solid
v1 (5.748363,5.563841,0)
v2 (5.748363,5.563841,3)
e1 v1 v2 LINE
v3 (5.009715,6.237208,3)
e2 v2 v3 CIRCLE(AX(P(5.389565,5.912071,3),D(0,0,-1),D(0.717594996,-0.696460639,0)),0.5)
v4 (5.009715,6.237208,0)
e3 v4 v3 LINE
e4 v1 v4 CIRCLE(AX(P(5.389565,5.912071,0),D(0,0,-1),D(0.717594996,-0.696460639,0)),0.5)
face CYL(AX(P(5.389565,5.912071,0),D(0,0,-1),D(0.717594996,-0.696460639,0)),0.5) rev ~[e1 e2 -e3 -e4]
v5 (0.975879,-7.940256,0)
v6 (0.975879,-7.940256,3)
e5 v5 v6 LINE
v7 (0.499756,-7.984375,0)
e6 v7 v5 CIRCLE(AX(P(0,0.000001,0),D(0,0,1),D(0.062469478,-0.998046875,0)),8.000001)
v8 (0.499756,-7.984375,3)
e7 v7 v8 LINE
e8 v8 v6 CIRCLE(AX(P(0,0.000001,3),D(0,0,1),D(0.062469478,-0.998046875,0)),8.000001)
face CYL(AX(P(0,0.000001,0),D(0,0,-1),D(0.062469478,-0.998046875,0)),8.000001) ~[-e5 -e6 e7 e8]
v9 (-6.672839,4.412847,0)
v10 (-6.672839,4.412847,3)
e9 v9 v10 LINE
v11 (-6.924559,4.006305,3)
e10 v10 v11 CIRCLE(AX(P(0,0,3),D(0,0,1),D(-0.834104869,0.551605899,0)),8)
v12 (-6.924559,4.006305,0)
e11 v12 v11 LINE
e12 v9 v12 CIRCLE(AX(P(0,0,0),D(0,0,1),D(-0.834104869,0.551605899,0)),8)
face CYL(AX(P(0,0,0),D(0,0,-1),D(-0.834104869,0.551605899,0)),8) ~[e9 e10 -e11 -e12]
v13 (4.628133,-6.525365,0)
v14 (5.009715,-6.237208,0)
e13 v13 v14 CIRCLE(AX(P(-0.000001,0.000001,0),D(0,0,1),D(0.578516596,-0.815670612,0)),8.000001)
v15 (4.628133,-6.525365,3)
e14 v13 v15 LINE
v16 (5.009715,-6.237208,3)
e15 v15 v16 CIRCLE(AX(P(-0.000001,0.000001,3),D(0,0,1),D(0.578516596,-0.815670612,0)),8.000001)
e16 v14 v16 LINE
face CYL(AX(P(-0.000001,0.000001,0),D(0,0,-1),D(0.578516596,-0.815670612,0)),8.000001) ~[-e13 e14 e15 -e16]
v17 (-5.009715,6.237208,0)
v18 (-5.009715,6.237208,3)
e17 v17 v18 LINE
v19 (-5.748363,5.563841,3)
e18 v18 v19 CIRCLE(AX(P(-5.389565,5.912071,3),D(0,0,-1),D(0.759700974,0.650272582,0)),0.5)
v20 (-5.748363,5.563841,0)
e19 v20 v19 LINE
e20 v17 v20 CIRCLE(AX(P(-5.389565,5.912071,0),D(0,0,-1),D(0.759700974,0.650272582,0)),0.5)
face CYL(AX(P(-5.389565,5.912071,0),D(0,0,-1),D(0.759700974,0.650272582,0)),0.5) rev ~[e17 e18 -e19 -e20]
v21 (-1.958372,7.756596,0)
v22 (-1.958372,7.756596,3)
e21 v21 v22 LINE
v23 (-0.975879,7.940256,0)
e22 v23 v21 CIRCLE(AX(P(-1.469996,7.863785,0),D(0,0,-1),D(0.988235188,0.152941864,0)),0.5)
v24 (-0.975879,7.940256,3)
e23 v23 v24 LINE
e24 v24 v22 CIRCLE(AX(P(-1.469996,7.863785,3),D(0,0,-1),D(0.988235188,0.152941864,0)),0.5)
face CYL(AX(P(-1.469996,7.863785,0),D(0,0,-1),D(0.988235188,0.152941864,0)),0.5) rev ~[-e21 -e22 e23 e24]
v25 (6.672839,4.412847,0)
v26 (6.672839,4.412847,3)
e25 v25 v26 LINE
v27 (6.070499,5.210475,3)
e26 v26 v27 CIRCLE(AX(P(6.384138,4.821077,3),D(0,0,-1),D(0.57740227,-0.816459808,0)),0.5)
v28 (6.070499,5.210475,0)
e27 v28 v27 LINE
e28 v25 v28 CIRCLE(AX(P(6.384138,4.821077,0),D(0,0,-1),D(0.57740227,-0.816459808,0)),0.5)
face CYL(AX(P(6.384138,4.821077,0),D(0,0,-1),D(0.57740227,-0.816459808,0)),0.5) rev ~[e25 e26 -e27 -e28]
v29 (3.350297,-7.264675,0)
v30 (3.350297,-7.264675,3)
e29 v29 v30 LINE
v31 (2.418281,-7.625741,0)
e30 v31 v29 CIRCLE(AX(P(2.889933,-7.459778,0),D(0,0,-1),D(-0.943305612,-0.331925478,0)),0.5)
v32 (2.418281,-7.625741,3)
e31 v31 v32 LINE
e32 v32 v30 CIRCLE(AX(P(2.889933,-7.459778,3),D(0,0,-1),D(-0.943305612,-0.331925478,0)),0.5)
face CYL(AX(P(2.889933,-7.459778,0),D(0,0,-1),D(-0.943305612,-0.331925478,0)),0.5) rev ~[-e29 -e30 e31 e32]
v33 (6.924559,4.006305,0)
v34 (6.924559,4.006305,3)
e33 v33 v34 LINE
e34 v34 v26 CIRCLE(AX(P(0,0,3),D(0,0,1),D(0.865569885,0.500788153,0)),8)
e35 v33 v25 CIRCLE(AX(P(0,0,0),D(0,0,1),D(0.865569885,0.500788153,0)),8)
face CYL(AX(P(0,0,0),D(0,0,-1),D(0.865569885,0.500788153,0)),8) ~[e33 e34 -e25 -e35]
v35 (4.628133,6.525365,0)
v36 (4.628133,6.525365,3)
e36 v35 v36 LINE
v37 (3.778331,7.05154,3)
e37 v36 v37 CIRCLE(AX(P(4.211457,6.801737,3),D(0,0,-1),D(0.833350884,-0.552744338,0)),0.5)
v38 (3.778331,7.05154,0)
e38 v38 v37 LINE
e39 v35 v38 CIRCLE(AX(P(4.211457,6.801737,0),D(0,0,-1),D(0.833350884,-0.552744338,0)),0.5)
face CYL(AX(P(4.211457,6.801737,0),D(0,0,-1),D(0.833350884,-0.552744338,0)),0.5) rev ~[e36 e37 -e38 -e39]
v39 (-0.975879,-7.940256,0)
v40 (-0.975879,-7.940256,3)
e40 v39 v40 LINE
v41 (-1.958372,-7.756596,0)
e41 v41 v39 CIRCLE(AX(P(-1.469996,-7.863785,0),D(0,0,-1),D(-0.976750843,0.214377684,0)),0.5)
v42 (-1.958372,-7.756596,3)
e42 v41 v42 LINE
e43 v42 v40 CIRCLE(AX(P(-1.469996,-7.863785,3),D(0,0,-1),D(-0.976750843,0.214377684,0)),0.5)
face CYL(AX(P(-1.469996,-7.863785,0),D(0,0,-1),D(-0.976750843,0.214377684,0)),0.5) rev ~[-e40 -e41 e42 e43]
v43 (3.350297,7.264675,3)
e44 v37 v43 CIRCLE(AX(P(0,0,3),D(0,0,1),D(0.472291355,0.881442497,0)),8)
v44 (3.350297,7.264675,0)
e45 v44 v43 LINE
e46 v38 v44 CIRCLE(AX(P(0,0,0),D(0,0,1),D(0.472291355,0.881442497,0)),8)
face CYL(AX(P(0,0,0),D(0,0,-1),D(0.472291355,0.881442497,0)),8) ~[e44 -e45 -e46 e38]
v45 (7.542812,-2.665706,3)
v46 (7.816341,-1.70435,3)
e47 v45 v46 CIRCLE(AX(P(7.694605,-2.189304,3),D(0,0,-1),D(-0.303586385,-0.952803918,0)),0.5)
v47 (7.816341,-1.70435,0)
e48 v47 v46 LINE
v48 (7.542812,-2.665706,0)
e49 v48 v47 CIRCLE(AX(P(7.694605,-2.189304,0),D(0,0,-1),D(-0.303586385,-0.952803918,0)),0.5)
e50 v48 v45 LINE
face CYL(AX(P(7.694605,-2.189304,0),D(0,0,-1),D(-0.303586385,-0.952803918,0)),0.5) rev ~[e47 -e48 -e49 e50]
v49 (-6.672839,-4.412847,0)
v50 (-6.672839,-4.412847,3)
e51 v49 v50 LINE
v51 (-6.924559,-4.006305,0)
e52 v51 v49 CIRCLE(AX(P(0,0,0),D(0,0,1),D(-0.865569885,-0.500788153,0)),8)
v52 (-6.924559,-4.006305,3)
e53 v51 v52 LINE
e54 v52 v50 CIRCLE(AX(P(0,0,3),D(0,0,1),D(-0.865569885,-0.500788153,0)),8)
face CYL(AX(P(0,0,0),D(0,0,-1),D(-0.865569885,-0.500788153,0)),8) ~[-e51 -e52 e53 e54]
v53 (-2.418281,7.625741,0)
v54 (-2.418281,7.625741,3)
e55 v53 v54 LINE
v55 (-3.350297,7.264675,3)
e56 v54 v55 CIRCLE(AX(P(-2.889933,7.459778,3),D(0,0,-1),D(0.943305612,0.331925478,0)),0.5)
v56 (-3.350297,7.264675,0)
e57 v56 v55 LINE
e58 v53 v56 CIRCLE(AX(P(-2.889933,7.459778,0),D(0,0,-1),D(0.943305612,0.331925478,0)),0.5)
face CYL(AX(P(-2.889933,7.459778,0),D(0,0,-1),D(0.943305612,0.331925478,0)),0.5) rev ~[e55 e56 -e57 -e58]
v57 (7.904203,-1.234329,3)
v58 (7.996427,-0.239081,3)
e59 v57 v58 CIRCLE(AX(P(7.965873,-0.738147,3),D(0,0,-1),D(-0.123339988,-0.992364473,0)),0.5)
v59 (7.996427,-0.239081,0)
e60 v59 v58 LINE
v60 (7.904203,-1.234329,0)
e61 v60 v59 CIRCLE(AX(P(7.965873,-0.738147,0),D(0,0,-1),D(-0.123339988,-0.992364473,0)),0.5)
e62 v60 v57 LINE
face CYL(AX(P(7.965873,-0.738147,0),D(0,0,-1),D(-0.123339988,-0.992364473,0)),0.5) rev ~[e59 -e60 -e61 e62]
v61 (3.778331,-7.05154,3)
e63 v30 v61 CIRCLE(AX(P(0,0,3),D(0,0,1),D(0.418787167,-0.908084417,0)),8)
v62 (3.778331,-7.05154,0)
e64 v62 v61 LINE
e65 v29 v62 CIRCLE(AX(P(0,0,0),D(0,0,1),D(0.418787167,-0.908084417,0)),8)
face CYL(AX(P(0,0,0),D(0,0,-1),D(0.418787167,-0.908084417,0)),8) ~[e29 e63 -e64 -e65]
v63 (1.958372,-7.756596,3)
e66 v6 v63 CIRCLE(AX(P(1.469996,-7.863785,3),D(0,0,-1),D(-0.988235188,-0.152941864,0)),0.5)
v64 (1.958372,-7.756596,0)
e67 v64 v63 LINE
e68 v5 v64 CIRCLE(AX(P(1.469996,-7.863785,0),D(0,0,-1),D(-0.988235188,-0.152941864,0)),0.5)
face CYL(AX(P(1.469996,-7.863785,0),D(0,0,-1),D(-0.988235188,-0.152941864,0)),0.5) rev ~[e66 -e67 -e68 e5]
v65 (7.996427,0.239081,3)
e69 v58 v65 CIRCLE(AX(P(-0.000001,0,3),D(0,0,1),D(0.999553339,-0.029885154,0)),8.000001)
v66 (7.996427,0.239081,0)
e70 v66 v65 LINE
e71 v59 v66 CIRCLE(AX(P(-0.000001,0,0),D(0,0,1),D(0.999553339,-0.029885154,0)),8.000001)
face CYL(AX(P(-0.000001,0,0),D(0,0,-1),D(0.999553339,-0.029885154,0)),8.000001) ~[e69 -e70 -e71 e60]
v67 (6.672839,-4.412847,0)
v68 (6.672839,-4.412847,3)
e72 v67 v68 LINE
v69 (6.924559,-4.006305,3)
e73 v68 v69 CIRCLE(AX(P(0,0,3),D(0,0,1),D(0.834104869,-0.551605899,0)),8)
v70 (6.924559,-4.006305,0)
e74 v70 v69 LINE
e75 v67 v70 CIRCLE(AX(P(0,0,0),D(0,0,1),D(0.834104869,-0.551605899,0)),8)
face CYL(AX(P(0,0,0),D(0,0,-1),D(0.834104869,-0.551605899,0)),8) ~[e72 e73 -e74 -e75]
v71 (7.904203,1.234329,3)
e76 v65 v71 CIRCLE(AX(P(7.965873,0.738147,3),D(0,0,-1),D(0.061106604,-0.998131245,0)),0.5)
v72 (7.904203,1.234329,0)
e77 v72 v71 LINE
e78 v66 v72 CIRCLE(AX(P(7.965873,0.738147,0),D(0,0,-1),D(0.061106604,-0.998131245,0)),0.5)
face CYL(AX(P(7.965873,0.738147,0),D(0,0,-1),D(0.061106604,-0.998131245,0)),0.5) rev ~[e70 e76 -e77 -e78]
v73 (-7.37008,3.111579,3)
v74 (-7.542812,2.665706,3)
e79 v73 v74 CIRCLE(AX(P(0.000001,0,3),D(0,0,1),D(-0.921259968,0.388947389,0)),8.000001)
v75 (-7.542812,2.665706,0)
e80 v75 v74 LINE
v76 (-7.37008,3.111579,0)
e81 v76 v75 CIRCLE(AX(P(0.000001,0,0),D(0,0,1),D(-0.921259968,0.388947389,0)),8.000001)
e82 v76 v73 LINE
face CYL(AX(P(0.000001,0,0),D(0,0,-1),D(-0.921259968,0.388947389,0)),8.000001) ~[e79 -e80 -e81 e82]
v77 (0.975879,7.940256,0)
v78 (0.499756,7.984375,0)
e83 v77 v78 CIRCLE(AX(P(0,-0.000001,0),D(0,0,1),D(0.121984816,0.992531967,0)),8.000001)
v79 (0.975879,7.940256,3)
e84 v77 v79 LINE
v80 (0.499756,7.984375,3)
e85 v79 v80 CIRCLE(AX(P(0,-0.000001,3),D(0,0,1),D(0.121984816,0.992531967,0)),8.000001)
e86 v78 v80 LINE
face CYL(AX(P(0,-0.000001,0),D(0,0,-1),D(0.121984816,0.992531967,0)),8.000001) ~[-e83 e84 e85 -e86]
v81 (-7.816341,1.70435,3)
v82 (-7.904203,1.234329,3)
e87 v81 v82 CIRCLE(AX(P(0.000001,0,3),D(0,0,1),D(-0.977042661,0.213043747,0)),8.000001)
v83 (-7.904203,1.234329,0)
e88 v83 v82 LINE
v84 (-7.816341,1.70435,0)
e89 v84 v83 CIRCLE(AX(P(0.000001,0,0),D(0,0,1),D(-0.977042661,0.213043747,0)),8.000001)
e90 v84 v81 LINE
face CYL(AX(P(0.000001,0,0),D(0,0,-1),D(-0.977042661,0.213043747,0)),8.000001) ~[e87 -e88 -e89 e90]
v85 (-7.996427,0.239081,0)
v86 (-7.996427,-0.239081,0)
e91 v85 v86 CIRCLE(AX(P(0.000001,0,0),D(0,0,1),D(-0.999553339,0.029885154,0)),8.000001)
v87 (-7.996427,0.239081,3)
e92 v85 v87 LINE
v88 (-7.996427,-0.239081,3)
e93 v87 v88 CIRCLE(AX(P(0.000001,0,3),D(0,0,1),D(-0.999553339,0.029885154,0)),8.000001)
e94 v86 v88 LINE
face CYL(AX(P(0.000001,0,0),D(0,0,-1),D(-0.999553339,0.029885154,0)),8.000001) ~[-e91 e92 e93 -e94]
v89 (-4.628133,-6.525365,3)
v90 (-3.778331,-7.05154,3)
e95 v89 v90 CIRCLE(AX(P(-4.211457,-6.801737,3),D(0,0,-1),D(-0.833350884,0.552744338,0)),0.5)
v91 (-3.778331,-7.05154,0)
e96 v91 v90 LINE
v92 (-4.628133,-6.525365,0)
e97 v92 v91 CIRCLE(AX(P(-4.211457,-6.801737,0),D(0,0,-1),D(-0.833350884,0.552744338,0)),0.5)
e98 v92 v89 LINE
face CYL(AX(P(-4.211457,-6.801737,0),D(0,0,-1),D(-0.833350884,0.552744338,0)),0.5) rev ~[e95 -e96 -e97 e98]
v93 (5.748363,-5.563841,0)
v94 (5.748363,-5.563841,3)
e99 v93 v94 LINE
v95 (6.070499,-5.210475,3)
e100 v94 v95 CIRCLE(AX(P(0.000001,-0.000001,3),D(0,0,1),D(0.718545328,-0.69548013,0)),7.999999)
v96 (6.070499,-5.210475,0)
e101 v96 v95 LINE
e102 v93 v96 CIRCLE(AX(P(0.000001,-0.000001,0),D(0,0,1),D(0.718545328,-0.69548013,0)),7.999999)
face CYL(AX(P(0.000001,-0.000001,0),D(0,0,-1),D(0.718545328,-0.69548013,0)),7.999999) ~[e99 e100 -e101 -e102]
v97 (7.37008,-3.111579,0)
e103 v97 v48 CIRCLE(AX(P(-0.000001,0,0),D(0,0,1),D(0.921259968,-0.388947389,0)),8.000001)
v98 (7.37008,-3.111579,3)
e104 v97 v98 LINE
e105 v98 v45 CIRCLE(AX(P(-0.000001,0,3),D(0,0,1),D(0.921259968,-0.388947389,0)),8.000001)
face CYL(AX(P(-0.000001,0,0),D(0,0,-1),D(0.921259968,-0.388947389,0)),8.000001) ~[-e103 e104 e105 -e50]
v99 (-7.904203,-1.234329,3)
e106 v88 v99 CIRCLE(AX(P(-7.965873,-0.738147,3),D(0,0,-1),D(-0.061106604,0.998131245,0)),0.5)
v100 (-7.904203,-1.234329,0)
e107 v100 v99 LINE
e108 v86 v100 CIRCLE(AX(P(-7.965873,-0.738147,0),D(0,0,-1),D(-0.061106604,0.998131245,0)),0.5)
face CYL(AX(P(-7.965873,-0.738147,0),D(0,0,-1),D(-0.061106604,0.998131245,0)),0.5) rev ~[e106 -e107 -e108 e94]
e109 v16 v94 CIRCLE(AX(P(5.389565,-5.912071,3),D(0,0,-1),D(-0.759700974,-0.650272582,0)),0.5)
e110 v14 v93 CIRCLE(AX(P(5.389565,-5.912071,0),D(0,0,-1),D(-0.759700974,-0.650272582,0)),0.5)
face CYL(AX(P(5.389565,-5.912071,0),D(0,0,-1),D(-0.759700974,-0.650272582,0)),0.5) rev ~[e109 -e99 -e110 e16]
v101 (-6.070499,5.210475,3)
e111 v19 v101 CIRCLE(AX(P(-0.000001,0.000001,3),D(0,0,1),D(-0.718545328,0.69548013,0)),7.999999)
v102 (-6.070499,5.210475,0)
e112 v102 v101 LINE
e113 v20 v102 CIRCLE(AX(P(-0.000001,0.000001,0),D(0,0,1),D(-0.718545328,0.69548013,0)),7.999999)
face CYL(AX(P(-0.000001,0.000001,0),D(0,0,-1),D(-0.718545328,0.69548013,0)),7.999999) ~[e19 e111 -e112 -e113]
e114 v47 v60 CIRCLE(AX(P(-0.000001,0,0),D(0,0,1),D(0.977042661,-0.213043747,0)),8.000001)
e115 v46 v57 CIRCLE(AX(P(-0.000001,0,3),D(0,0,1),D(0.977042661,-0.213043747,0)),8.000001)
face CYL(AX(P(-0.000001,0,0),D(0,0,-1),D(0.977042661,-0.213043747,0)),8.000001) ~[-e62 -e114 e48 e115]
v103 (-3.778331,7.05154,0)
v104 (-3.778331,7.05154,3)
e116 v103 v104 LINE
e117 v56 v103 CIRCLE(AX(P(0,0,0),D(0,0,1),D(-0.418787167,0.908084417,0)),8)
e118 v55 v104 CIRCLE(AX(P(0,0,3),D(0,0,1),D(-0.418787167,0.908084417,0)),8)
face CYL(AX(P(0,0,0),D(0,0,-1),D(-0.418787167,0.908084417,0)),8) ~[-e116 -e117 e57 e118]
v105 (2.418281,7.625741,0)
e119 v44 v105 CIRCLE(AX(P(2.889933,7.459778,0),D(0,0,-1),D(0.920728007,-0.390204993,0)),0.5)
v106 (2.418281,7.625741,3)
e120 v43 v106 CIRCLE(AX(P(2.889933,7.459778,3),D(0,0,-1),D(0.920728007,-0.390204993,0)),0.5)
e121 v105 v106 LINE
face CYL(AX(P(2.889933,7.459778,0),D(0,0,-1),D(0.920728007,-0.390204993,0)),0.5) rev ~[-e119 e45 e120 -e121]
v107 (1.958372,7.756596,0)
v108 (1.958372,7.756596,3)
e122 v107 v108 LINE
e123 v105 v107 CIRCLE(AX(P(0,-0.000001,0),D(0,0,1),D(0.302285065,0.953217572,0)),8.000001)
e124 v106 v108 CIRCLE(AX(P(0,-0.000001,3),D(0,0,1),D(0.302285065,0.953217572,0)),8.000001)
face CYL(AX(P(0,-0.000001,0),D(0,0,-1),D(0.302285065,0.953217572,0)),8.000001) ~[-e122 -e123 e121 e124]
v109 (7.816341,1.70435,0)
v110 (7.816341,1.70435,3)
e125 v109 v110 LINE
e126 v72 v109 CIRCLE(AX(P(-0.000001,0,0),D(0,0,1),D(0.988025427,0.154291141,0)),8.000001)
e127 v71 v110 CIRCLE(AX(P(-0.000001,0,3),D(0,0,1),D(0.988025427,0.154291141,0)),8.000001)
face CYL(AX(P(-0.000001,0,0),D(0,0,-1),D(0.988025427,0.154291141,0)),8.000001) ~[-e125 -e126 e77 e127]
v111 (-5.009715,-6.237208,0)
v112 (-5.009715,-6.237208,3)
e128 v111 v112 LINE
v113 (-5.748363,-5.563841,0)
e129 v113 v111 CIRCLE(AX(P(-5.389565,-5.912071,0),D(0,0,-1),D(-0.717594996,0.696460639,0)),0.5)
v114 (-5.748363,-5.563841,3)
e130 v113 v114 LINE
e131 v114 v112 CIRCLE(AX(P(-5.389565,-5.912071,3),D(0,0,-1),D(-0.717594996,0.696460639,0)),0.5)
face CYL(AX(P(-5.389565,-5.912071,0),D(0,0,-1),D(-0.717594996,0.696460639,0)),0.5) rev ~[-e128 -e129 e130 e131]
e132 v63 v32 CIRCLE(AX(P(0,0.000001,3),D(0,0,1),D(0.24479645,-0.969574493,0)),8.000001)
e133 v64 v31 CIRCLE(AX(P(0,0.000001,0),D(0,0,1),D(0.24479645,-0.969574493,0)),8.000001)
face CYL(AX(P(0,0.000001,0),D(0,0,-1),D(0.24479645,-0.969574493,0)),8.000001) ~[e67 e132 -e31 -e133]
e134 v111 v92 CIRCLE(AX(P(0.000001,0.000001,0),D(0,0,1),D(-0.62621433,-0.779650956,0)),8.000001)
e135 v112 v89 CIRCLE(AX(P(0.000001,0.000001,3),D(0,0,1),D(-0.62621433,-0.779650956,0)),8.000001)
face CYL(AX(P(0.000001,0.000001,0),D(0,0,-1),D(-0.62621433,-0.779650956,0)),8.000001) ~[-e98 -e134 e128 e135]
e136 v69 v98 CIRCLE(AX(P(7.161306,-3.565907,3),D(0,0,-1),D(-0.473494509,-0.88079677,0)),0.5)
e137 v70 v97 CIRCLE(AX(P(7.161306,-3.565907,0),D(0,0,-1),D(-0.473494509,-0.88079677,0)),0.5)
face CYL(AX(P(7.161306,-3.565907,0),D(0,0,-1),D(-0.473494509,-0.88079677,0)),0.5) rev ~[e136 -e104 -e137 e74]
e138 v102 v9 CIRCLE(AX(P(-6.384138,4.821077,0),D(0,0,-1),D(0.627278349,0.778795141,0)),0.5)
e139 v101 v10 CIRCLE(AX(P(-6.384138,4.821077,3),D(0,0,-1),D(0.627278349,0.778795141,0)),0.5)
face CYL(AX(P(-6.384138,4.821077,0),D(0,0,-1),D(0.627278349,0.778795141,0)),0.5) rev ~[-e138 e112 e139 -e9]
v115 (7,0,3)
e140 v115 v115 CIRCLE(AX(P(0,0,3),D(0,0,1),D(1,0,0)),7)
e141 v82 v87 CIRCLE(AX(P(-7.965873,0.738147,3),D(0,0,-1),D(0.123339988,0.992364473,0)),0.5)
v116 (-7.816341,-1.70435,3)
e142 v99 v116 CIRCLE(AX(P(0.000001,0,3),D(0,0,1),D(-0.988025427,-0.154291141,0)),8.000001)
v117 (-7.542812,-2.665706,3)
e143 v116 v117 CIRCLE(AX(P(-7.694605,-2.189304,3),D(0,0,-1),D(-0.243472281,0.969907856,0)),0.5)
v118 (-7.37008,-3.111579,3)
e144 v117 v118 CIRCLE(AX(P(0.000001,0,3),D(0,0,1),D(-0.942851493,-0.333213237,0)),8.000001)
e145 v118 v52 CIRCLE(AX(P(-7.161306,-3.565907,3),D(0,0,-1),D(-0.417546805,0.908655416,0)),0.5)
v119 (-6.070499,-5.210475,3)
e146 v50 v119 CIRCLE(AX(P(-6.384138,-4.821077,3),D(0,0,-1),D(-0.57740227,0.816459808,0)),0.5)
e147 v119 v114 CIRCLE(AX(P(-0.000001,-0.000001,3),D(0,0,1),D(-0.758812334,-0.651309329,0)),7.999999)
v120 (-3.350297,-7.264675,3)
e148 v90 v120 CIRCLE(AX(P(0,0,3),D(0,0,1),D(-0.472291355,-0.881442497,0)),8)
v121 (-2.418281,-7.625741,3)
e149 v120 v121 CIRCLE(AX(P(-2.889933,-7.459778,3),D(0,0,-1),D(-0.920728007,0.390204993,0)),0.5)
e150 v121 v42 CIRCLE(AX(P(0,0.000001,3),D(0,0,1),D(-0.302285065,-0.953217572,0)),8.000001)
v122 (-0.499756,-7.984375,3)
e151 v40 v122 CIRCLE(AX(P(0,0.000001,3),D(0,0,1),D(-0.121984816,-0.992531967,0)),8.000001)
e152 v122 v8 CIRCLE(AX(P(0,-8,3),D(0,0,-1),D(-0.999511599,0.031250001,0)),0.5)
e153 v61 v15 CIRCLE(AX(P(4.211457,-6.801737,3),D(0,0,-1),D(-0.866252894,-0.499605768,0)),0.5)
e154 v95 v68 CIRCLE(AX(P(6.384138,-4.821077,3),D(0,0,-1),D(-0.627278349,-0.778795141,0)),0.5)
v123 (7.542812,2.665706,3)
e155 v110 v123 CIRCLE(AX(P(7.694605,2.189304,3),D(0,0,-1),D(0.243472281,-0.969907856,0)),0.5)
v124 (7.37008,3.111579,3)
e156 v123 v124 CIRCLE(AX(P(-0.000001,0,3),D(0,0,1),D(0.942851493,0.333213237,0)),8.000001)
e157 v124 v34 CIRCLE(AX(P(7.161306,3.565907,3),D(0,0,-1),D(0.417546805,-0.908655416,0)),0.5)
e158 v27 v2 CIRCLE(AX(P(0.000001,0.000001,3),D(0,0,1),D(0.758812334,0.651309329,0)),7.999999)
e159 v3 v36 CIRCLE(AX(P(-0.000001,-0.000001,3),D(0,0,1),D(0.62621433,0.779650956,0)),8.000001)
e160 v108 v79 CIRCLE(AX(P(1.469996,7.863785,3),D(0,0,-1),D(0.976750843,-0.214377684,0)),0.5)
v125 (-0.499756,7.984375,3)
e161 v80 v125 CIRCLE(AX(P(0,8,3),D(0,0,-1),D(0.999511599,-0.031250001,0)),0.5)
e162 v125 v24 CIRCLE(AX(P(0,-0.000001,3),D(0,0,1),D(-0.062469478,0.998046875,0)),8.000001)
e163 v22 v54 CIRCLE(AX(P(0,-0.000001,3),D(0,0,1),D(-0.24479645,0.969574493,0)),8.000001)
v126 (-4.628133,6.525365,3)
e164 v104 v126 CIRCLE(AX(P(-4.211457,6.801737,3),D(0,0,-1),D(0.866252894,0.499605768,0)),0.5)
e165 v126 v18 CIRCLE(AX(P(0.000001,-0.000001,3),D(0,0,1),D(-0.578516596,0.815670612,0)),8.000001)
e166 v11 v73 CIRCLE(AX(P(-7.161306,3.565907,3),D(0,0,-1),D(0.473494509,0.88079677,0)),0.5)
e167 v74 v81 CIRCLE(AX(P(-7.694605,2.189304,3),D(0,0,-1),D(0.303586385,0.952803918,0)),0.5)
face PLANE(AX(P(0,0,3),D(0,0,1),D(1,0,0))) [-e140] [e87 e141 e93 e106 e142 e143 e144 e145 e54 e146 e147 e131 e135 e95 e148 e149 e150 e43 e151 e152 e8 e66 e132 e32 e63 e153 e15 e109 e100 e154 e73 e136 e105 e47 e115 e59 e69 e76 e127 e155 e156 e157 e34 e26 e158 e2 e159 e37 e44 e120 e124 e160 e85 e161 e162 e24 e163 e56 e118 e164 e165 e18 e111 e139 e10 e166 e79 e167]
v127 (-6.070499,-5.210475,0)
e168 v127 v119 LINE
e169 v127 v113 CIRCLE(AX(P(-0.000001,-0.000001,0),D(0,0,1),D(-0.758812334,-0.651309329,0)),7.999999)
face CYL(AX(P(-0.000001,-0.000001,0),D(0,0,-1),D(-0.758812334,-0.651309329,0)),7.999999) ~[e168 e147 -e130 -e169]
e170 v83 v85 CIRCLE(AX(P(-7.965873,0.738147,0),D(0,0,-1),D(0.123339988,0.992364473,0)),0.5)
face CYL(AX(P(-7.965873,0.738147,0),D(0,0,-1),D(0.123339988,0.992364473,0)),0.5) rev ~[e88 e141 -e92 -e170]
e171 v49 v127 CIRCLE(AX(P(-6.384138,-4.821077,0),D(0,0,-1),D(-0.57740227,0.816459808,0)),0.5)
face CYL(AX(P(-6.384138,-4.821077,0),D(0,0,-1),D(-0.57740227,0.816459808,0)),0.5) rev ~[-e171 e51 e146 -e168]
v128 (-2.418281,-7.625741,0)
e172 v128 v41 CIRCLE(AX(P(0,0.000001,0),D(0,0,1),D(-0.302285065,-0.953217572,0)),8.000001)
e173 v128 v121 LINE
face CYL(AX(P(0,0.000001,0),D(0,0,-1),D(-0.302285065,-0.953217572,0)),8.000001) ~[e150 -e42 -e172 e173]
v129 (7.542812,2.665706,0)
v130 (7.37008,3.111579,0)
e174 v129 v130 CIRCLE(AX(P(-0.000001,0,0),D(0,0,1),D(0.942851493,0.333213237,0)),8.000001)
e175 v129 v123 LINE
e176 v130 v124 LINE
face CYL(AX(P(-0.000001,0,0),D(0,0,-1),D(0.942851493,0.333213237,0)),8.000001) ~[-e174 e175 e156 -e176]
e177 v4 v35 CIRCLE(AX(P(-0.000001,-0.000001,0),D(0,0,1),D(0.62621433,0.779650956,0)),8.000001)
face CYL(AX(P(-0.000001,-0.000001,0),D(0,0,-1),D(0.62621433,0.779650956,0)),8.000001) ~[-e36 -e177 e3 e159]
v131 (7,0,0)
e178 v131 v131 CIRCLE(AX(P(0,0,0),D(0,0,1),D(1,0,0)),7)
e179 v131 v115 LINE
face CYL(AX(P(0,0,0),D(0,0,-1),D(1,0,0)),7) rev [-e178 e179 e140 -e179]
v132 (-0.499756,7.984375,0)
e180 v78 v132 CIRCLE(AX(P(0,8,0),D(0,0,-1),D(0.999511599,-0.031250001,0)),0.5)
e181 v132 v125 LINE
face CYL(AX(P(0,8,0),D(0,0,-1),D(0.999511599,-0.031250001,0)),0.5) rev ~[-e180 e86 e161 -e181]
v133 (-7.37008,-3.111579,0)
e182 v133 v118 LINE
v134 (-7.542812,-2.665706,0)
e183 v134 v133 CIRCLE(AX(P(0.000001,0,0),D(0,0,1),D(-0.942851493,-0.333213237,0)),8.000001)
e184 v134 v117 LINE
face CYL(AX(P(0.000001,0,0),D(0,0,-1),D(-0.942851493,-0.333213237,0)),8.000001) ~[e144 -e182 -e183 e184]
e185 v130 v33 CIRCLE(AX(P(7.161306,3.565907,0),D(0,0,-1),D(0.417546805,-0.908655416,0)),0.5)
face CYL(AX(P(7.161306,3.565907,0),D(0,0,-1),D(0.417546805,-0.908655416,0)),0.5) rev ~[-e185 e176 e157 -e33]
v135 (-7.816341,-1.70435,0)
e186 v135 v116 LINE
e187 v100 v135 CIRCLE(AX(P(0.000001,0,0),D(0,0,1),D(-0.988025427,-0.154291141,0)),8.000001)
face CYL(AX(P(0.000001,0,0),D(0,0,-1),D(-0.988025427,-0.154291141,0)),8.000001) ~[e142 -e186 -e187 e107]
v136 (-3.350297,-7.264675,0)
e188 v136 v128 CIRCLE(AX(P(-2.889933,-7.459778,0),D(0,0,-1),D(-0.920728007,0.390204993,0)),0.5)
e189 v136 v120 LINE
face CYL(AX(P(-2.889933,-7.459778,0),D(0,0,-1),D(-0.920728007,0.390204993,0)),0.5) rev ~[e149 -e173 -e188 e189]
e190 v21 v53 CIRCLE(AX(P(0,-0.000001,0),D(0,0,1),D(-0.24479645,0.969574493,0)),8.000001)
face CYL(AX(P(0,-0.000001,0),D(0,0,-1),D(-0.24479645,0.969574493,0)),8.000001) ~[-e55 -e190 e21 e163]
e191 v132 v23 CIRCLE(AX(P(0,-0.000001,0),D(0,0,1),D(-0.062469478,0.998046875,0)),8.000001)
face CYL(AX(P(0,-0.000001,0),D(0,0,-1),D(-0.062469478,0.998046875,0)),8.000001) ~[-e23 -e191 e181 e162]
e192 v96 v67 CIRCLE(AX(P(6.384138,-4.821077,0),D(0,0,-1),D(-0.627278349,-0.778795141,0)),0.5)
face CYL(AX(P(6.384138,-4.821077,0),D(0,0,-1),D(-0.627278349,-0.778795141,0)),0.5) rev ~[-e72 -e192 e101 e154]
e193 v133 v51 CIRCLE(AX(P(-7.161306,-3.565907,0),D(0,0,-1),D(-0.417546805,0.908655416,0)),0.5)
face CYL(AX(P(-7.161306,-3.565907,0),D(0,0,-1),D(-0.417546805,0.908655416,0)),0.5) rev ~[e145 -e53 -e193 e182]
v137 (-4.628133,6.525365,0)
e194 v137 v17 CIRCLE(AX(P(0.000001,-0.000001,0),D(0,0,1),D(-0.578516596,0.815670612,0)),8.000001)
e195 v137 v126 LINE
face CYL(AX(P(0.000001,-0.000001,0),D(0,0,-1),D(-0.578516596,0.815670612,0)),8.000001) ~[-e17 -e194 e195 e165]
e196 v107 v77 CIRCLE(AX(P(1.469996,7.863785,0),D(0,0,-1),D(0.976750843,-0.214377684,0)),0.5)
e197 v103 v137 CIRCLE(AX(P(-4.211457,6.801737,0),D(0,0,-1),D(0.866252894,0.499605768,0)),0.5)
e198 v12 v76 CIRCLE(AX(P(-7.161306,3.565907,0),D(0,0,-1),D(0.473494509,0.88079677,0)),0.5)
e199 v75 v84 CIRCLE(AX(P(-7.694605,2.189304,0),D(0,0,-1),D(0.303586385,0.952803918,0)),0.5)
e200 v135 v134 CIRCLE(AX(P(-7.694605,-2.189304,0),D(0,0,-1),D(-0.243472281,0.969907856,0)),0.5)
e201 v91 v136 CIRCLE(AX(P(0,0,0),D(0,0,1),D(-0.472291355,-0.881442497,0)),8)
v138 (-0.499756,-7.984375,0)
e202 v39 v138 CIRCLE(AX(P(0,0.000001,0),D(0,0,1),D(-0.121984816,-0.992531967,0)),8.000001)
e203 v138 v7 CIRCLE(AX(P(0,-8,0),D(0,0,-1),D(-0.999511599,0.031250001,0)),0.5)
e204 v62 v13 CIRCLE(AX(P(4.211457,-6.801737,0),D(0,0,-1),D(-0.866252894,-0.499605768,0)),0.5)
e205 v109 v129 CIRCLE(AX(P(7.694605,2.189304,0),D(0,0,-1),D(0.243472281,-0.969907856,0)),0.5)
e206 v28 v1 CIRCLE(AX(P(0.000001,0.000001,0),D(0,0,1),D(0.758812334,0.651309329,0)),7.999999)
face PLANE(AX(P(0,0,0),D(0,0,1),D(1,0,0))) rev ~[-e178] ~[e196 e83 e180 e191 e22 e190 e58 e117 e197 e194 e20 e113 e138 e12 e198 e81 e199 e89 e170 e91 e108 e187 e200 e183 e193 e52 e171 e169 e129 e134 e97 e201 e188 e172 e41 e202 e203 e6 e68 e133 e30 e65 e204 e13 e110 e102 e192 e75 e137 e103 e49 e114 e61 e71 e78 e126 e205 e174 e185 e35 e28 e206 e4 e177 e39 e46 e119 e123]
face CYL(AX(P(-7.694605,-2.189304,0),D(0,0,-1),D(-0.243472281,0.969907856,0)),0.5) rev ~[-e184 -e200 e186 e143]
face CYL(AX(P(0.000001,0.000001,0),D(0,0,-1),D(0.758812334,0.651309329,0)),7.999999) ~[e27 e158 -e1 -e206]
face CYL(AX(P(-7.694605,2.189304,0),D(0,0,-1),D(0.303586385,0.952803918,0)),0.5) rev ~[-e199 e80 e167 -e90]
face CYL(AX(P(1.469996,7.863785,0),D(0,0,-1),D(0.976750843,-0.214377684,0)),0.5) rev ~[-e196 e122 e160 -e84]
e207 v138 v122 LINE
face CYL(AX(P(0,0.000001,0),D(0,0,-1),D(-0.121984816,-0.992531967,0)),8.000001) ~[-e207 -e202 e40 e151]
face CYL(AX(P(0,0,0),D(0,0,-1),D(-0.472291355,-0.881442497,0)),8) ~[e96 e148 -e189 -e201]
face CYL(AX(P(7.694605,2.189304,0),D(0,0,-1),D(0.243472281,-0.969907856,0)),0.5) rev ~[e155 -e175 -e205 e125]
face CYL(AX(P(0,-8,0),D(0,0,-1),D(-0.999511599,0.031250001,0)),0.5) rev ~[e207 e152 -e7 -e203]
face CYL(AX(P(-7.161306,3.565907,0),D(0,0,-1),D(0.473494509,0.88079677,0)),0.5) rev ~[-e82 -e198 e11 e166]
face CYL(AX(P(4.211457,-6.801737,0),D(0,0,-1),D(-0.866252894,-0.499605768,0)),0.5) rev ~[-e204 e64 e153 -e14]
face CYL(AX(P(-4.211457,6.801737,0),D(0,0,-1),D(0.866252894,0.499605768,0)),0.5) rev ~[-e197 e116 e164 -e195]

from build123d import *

# Parameters (mm, degrees)
SKETCH1_R           = 7
BOSS_EXTRUDE1_DEPTH = 3


with BuildPart() as part:
    # Sketch1 → Boss-Extrude1 (new body)
    with BuildSketch(Plane.XY):
        with BuildLine():
            ThreePointArc((-0.4997558, 7.984375), (-0.738146876, 7.96587341), (-0.975878549, 7.94025573))
            ThreePointArc((-0.975878549, 7.94025573), (-1.378121384, 7.372298248), (-1.958371564, 7.756595956))
            ThreePointArc((-1.958371564, 7.756595956), (-2.189303921, 7.694605145), (-2.418280524, 7.625740574))
            ThreePointArc((-2.418280524, 7.625740574), (-2.709312496, 6.993541721), (-3.350297333, 7.264675339))
            ThreePointArc((-3.350297333, 7.264675339), (-3.565906846, 7.161306331), (-3.778330856, 7.05153997))
            ThreePointArc((-3.778330856, 7.05153997), (-3.948241222, 6.376628518), (-4.628132745, 6.525364917))
            ThreePointArc((-4.628132745, 6.525364917), (-4.821077091, 6.384137818), (-5.009714662, 6.237207629))
            ThreePointArc((-5.009714662, 6.237207629), (-5.052717327, 5.542566879), (-5.748362647, 5.563841018))
            ThreePointArc((-5.748362647, 5.563841018), (-5.912071338, 5.389565149), (-6.070498644, 5.210474662))
            ThreePointArc((-6.070498644, 5.210474662), (-5.985129205, 4.519759773), (-6.672838954, 4.412847187))
            ThreePointArc((-6.672838954, 4.412847187), (-6.801737086, 4.211457303), (-6.924559076, 4.006305231))
            ThreePointArc((-6.924559076, 4.006305231), (-6.713724685, 3.343037668), (-7.370079733, 3.111579138))
            ThreePointArc((-7.370079733, 3.111579138), (-7.459777835, 2.889933329), (-7.542811953, 2.66570588))
            ThreePointArc((-7.542811953, 2.66570588), (-7.213692324, 2.052472426), (-7.816341286, 1.704349993))
            ThreePointArc((-7.816341286, 1.704349993), (-7.863784797, 1.469996143), (-7.904203416, 1.234329112))
            ThreePointArc((-7.904203416, 1.234329112), (-7.468006322, 0.692012696), (-7.996426712, 0.239081253))
            ThreePointArc((-7.996426712, 0.239081253), (-8, 0), (-7.996426712, -0.239081253))
            ThreePointArc((-7.996426712, -0.239081253), (-7.468006322, -0.692012696), (-7.904203416, -1.234329112))
            ThreePointArc((-7.904203416, -1.234329112), (-7.863784797, -1.469996143), (-7.816341286, -1.704349993))
            ThreePointArc((-7.816341286, -1.704349993), (-7.213692324, -2.052472426), (-7.542811953, -2.66570588))
            ThreePointArc((-7.542811953, -2.66570588), (-7.459777835, -2.889933329), (-7.370079733, -3.111579138))
            ThreePointArc((-7.370079733, -3.111579138), (-6.713724685, -3.343037668), (-6.924559076, -4.006305231))
            ThreePointArc((-6.924559076, -4.006305231), (-6.801737086, -4.211457303), (-6.672838954, -4.412847187))
            ThreePointArc((-6.672838954, -4.412847187), (-5.985129205, -4.519759773), (-6.070498644, -5.210474662))
            ThreePointArc((-6.070498644, -5.210474662), (-5.912071338, -5.389565149), (-5.748362647, -5.563841018))
            ThreePointArc((-5.748362647, -5.563841018), (-5.052717327, -5.542566879), (-5.009714662, -6.237207629))
            ThreePointArc((-5.009714662, -6.237207629), (-4.821077091, -6.384137818), (-4.628132745, -6.525364917))
            ThreePointArc((-4.628132745, -6.525364917), (-3.948241222, -6.376628518), (-3.778330856, -7.05153997))
            ThreePointArc((-3.778330856, -7.05153997), (-3.565906846, -7.161306331), (-3.350297333, -7.264675339))
            ThreePointArc((-3.350297333, -7.264675339), (-2.709312496, -6.993541721), (-2.418280524, -7.625740574))
            ThreePointArc((-2.418280524, -7.625740574), (-2.189303921, -7.694605145), (-1.958371564, -7.756595956))
            ThreePointArc((-1.958371564, -7.756595956), (-1.378121384, -7.372298248), (-0.975878549, -7.94025573))
            ThreePointArc((-0.975878549, -7.94025573), (-0.738146876, -7.96587341), (-0.4997558, -7.984375))
            ThreePointArc((-0.4997558, -7.984375), (0, -7.5), (0.4997558, -7.984375))
            ThreePointArc((0.4997558, -7.984375), (0.738146876, -7.96587341), (0.975878549, -7.94025573))
            ThreePointArc((0.975878549, -7.94025573), (1.378121384, -7.372298248), (1.958371564, -7.756595956))
            ThreePointArc((1.958371564, -7.756595956), (2.189303921, -7.694605145), (2.418280524, -7.625740574))
            ThreePointArc((2.418280524, -7.625740574), (2.709312496, -6.993541721), (3.350297333, -7.264675339))
            ThreePointArc((3.350297333, -7.264675339), (3.565906846, -7.161306331), (3.778330856, -7.05153997))
            ThreePointArc((3.778330856, -7.05153997), (3.948241222, -6.376628518), (4.628132745, -6.525364917))
            ThreePointArc((4.628132745, -6.525364917), (4.821077091, -6.384137818), (5.009714662, -6.237207629))
            ThreePointArc((5.009714662, -6.237207629), (5.052717327, -5.542566879), (5.748362647, -5.563841018))
            ThreePointArc((5.748362647, -5.563841018), (5.912071338, -5.389565149), (6.070498644, -5.210474662))
            ThreePointArc((6.070498644, -5.210474662), (5.985129205, -4.519759773), (6.672838954, -4.412847187))
            ThreePointArc((6.672838954, -4.412847187), (6.801737086, -4.211457303), (6.924559076, -4.006305231))
            ThreePointArc((6.924559076, -4.006305231), (6.713724685, -3.343037668), (7.370079733, -3.111579138))
            ThreePointArc((7.370079733, -3.111579138), (7.459777835, -2.889933329), (7.542811953, -2.66570588))
            ThreePointArc((7.542811953, -2.66570588), (7.213692324, -2.052472426), (7.816341286, -1.704349993))
            ThreePointArc((7.816341286, -1.704349993), (7.863784797, -1.469996143), (7.904203416, -1.234329112))
            ThreePointArc((7.904203416, -1.234329112), (7.468006322, -0.692012696), (7.996426712, -0.239081253))
            ThreePointArc((7.996426712, -0.239081253), (8, 0), (7.996426712, 0.239081253))
            ThreePointArc((7.996426712, 0.239081253), (7.468006322, 0.692012696), (7.904203416, 1.234329112))
            ThreePointArc((7.904203416, 1.234329112), (7.863784797, 1.469996143), (7.816341286, 1.704349993))
            ThreePointArc((7.816341286, 1.704349993), (7.213692324, 2.052472426), (7.542811953, 2.66570588))
            ThreePointArc((7.542811953, 2.66570588), (7.459777835, 2.889933329), (7.370079733, 3.111579138))
            ThreePointArc((7.370079733, 3.111579138), (6.713724685, 3.343037668), (6.924559076, 4.006305231))
            ThreePointArc((6.924559076, 4.006305231), (6.801737086, 4.211457303), (6.672838954, 4.412847187))
            ThreePointArc((6.672838954, 4.412847187), (5.985129205, 4.519759773), (6.070498644, 5.210474662))
            ThreePointArc((6.070498644, 5.210474662), (5.912071338, 5.389565149), (5.748362647, 5.563841018))
            ThreePointArc((5.748362647, 5.563841018), (5.052717327, 5.542566879), (5.009714662, 6.237207629))
            ThreePointArc((5.009714662, 6.237207629), (4.821077091, 6.384137818), (4.628132745, 6.525364917))
            ThreePointArc((4.628132745, 6.525364917), (3.948241222, 6.376628518), (3.778330856, 7.05153997))
            ThreePointArc((3.778330856, 7.05153997), (3.565906846, 7.161306331), (3.350297333, 7.264675339))
            ThreePointArc((3.350297333, 7.264675339), (2.709312496, 6.993541721), (2.418280524, 7.625740574))
            ThreePointArc((2.418280524, 7.625740574), (2.189303921, 7.694605145), (1.958371564, 7.756595956))
            ThreePointArc((1.958371564, 7.756595956), (1.378121384, 7.372298248), (0.975878549, 7.94025573))
            ThreePointArc((0.975878549, 7.94025573), (0.738146876, 7.96587341), (0.4997558, 7.984375))
            ThreePointArc((0.4997558, 7.984375), (0, 7.5), (-0.4997558, 7.984375))
        make_face()
        Circle(SKETCH1_R, mode=Mode.SUBTRACT)
    extrude(amount=BOSS_EXTRUDE1_DEPTH)


solid = part.part
